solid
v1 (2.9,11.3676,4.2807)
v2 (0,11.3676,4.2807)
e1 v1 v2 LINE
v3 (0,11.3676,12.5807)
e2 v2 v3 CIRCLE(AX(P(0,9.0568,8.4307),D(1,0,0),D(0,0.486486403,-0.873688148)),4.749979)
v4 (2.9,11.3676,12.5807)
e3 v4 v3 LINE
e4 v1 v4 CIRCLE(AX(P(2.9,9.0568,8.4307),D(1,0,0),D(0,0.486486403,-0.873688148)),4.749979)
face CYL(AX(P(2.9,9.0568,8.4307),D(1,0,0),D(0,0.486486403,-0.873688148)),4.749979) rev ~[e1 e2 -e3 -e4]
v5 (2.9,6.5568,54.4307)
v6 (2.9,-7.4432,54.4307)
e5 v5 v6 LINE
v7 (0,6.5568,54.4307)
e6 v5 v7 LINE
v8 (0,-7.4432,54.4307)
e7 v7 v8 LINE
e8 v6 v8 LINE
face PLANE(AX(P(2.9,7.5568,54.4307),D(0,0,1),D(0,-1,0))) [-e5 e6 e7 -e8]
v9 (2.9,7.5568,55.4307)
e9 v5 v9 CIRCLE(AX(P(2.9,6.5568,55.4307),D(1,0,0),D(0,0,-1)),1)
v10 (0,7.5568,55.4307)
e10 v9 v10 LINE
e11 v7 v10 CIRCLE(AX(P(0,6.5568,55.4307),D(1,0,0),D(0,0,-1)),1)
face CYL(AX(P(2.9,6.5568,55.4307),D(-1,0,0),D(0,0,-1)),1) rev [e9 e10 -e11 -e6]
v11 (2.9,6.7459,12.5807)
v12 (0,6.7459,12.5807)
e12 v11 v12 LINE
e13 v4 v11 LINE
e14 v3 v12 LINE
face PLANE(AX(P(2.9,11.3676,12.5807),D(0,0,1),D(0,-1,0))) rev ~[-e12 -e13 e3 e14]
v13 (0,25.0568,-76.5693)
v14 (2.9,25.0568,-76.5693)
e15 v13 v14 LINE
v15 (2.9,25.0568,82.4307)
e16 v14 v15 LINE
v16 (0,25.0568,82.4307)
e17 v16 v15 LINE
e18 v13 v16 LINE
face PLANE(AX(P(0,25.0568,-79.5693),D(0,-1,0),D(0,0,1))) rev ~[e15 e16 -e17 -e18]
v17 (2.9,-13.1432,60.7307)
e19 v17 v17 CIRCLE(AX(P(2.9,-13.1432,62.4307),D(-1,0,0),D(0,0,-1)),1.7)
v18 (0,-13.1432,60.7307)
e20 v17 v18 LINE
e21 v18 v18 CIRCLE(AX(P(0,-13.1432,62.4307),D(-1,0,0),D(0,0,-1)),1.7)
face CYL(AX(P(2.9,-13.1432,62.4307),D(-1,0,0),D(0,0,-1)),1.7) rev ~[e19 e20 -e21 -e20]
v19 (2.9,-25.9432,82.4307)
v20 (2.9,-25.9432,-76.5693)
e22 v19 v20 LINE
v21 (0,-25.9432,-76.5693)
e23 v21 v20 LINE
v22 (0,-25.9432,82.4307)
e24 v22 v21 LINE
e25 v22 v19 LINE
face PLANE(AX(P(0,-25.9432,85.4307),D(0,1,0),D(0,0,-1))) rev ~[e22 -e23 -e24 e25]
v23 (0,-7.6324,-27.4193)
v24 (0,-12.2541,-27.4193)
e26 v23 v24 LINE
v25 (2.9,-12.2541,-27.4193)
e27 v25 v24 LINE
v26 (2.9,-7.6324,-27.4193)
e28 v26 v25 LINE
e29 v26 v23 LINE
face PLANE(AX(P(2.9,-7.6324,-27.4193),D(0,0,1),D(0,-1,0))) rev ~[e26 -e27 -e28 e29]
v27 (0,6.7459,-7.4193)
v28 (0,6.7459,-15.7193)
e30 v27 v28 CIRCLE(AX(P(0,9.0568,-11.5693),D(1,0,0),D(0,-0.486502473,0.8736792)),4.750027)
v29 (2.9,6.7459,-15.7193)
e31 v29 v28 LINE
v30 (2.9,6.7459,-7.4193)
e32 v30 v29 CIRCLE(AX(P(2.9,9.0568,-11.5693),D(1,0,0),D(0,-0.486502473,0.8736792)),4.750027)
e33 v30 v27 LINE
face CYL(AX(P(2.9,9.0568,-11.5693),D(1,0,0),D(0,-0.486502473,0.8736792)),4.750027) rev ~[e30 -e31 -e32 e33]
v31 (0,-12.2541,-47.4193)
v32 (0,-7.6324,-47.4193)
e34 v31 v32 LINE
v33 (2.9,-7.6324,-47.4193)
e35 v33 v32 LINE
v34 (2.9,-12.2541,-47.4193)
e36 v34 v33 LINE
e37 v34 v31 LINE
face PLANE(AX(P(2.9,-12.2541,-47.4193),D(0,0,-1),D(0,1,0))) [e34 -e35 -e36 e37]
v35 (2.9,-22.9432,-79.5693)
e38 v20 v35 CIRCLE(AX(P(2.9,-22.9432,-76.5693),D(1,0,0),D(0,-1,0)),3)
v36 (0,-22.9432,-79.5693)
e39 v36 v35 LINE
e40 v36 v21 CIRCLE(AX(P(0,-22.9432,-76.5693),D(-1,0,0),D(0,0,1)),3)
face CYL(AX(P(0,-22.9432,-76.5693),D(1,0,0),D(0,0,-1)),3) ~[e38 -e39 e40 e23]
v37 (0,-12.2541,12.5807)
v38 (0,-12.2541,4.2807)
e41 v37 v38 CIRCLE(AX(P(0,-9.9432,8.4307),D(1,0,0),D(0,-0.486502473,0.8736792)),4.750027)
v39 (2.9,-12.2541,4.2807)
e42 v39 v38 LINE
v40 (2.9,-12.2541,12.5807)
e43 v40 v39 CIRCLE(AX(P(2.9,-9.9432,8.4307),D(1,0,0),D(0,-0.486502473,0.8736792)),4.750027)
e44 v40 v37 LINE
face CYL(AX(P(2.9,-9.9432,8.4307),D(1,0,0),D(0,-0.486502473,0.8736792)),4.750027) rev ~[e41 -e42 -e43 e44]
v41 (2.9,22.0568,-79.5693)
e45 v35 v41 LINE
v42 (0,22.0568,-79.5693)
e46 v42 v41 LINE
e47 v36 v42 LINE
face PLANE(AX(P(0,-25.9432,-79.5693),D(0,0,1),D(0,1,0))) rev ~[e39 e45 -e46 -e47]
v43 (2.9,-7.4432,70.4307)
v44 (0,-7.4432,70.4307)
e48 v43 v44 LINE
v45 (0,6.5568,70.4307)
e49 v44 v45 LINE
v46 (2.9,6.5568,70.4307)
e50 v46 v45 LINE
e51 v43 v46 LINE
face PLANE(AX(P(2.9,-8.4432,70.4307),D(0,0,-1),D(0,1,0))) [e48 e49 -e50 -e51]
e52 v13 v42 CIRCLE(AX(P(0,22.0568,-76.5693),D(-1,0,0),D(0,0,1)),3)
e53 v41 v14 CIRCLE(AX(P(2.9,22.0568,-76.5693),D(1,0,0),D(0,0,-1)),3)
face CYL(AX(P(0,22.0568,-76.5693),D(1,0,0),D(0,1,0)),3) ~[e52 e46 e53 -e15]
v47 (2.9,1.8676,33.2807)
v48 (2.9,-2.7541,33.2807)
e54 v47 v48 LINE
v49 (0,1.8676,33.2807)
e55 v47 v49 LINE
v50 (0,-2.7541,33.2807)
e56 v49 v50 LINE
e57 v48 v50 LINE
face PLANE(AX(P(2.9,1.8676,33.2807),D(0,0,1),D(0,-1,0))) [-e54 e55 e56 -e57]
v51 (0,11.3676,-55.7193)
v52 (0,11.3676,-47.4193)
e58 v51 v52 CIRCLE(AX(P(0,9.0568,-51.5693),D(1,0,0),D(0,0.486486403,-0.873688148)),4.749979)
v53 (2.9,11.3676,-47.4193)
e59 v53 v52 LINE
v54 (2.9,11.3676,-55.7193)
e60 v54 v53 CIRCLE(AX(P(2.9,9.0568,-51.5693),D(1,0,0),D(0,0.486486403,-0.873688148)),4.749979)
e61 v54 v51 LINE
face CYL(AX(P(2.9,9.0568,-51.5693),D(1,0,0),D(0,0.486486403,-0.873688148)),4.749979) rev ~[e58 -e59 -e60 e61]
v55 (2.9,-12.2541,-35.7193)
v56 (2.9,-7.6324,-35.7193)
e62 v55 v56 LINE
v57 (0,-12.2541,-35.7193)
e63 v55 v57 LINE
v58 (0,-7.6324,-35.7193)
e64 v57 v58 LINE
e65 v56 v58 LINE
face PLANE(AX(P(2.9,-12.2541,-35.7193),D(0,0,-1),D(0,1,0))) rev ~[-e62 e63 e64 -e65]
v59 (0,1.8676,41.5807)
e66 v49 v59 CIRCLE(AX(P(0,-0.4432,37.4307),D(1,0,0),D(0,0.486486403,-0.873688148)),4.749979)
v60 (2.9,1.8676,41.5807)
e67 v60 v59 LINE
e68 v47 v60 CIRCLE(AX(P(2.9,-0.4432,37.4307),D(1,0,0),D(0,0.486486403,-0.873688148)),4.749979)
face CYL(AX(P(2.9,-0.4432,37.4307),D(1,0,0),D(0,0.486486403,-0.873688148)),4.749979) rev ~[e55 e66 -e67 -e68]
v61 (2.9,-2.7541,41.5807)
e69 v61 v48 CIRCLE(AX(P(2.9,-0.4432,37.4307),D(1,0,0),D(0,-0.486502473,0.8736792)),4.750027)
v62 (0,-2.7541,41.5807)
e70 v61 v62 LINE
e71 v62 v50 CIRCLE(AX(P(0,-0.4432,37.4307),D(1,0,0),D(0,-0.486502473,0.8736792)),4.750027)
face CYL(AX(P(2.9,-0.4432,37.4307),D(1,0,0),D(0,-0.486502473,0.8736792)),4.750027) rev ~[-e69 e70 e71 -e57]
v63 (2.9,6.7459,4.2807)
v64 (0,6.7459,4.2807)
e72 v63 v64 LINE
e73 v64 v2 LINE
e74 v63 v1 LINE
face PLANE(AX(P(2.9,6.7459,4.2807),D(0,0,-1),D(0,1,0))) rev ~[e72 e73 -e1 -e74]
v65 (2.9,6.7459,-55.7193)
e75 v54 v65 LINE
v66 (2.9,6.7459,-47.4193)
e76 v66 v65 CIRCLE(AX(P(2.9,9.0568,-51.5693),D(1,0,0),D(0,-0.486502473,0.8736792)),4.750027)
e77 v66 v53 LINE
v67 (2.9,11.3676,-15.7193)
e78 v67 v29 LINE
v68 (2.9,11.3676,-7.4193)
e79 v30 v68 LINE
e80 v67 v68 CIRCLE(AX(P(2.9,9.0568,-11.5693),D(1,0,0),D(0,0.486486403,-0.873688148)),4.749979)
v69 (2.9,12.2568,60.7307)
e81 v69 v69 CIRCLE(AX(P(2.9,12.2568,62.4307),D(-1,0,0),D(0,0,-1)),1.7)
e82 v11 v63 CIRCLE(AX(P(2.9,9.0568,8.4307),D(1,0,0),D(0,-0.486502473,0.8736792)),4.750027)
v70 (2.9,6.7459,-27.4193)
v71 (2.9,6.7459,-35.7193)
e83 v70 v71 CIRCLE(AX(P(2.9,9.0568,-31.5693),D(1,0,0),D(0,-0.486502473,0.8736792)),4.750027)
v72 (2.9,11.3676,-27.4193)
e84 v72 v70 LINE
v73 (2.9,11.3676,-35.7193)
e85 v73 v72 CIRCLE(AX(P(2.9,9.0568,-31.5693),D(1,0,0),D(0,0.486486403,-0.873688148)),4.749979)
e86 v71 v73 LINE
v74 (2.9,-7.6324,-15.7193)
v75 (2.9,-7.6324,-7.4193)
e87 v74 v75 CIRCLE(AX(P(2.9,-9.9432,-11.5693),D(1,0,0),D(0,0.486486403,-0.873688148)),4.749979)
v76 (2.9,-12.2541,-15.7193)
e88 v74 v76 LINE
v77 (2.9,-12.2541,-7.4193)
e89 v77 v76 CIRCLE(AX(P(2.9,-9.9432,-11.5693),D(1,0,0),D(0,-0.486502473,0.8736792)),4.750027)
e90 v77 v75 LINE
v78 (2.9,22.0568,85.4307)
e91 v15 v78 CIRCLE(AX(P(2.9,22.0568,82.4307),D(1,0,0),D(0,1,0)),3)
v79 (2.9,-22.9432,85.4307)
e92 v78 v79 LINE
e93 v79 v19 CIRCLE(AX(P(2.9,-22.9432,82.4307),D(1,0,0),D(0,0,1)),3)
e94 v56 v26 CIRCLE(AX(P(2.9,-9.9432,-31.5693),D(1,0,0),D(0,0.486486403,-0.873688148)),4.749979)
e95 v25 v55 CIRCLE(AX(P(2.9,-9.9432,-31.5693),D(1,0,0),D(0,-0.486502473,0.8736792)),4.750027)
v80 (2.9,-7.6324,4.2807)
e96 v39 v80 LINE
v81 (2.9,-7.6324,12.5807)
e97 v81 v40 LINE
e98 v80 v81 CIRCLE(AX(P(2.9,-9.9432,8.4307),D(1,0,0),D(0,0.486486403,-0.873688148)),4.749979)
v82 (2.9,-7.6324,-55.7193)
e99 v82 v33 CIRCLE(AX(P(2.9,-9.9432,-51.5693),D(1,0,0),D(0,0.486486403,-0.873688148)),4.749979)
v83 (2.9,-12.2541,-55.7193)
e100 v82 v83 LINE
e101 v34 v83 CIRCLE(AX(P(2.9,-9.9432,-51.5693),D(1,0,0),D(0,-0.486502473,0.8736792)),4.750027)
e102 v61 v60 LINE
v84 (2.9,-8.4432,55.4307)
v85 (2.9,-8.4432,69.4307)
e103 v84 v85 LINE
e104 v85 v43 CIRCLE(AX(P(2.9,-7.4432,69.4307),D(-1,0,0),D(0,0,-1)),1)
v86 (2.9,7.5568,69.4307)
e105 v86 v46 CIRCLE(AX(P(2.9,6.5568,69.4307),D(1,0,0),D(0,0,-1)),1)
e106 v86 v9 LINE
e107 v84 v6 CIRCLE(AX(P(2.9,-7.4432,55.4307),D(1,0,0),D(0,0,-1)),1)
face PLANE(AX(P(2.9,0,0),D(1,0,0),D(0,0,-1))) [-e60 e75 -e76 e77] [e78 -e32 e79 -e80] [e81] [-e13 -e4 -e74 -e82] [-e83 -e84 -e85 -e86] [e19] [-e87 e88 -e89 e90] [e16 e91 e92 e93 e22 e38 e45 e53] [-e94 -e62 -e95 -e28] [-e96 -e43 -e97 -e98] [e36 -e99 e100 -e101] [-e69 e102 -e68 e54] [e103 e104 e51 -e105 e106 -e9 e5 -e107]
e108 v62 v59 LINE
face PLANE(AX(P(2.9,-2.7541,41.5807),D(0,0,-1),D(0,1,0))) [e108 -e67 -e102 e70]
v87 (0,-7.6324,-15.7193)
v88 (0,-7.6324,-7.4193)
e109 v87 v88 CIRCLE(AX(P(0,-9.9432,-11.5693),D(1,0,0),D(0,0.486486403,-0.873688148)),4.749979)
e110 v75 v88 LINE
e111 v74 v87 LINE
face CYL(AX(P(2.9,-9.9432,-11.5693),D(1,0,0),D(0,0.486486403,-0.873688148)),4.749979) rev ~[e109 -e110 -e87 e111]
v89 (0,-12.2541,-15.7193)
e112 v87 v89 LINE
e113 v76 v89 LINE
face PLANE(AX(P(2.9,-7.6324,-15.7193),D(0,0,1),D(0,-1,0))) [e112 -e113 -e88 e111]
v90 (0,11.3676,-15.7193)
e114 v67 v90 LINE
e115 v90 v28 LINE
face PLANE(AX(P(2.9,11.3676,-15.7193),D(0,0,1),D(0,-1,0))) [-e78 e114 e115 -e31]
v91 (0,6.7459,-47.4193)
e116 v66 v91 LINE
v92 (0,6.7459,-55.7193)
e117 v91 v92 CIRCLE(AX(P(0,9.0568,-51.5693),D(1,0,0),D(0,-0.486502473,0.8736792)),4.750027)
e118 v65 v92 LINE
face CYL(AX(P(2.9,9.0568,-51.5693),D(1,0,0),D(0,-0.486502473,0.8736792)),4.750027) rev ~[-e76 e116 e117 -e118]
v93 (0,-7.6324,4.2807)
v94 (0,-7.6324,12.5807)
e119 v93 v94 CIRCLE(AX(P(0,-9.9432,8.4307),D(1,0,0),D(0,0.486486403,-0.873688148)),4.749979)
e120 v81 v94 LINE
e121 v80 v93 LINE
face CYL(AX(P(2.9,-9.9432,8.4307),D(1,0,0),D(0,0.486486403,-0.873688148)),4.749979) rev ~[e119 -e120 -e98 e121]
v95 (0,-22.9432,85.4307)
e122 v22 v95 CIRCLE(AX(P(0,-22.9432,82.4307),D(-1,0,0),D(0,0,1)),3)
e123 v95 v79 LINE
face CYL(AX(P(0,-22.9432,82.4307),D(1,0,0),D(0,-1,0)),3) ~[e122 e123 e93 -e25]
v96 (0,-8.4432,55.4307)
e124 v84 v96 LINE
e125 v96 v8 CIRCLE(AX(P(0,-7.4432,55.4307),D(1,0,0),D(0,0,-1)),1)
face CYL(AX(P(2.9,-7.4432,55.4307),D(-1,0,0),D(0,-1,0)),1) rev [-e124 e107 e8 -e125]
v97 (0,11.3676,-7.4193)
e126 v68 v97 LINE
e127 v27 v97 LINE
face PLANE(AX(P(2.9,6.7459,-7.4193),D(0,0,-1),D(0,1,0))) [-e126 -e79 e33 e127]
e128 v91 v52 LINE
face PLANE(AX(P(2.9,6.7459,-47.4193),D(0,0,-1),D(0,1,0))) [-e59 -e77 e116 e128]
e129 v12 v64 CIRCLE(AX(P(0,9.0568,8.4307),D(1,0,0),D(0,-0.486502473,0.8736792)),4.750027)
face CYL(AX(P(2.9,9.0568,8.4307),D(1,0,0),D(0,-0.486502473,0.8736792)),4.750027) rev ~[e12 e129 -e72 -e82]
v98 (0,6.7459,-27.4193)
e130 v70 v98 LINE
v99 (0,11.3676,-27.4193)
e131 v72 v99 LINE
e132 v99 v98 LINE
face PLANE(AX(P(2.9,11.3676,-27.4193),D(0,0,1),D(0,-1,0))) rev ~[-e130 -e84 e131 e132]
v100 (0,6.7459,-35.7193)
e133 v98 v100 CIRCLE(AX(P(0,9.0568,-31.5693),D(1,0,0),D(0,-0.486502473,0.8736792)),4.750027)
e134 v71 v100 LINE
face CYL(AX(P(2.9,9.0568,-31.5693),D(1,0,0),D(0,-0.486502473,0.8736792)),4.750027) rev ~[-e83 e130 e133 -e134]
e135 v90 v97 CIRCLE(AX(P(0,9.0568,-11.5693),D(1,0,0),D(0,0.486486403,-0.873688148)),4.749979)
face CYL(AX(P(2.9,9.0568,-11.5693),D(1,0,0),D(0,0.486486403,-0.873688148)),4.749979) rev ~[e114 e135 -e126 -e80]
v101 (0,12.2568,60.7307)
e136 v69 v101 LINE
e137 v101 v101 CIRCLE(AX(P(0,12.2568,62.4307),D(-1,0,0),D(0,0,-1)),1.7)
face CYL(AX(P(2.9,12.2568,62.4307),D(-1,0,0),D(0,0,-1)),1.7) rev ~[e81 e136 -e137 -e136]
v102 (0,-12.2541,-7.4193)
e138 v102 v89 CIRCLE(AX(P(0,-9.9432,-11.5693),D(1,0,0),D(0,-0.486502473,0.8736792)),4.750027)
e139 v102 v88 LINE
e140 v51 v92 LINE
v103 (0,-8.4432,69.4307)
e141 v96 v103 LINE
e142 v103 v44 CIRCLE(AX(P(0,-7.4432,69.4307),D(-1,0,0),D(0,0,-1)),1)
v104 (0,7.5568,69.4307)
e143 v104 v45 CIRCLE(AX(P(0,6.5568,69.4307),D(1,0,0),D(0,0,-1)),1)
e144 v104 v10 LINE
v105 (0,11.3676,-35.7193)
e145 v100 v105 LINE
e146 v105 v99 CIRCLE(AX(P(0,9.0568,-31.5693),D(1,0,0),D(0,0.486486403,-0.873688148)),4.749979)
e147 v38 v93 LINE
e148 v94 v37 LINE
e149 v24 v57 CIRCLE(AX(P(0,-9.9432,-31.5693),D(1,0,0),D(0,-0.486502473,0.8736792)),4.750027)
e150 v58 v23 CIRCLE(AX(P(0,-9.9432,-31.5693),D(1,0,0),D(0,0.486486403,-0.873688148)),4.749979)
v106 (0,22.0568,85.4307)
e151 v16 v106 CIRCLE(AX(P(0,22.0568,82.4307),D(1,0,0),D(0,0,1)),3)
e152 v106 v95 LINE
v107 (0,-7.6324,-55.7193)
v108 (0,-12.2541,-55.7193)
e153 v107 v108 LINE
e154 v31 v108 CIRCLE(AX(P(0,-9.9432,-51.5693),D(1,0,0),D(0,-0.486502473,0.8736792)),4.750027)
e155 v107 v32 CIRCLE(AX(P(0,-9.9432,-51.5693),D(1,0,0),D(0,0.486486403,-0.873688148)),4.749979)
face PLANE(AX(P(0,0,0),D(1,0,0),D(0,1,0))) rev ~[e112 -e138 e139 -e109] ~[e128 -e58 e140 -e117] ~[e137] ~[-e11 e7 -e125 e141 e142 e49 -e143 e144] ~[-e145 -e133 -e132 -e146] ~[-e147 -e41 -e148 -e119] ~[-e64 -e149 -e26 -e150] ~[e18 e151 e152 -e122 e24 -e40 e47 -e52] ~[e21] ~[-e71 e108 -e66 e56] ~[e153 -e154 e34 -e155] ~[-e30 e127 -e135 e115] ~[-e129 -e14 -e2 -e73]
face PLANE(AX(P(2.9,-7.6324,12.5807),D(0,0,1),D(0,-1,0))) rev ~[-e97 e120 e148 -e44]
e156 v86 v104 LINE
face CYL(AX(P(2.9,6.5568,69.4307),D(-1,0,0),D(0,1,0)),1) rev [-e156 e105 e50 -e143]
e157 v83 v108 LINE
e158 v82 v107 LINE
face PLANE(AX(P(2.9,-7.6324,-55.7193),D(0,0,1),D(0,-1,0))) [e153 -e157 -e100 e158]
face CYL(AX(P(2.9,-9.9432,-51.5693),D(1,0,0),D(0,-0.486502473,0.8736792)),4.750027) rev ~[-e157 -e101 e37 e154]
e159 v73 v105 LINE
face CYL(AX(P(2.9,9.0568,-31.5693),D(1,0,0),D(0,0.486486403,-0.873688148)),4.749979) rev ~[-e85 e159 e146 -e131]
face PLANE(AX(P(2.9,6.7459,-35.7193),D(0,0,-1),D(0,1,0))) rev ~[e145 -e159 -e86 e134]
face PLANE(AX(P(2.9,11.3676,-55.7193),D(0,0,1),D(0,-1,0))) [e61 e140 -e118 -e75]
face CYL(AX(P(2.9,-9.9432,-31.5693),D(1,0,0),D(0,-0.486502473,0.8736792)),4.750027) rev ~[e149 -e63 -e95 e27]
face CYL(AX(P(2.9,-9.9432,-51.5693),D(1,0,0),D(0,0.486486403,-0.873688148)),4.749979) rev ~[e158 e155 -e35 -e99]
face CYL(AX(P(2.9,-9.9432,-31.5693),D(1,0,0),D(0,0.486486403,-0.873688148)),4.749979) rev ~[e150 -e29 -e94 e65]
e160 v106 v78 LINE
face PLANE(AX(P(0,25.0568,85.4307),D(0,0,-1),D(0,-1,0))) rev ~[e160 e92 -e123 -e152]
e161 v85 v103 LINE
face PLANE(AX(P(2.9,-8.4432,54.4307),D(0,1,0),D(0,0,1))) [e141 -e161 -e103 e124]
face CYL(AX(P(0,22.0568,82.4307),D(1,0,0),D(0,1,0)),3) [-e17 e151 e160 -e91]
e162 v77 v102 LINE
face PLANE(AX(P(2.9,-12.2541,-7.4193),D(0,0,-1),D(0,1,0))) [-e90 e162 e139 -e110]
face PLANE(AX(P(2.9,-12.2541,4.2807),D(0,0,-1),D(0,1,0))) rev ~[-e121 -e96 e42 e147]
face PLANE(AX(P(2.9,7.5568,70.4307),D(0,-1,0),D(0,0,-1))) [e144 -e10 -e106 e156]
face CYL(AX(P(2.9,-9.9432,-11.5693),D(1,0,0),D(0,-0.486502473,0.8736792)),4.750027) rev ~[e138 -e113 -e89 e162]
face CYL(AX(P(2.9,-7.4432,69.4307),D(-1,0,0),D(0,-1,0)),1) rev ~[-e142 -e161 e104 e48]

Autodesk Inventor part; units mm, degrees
ref_plane "YZ Plane" through (0, 0, 0) normal (1, 0, 0) x (0, 1, 0)
ref_plane "XZ Plane" through (0, 0, 0) normal (0, 1, 0) x (-1, 0, 0)
ref_plane "XY Plane" through (0, 0, 0) normal (0, 0, 1) x (1, 0, 0)
sketch "Sketch1" plane through (0, 0, 0) normal (1, 0, 0) x (0, 1, 0)
  line L0 (25.0568, 85.4307) -> (-25.9432, 85.4307)
  line L1 (-25.9432, 85.4307) -> (-25.9432, -79.5693)
  line L2 (-25.9432, -79.5693) -> (25.0568, -79.5693)
  line L3 (25.0568, -79.5693) -> (25.0568, 85.4307)
  point P0 (0, 0)
  dimension "d0" = 165
  dimension "d1" = 51
extrude "Extrusion1" add sketch "Sketch1" along normal blind 3
fillet "Fillet1" radius 3 4 edges at (1.5, 25.0568, 85.4307) (1.5, -25.9432, 85.4307) (1.5, 25.0568, -79.5693) (1.5, -25.9432, -79.5693)
sketch "Sketch2" plane through (3, 0, 0) normal (1, 0, 0) x (0, 0, -1)
  line L0 (-77.4307, 22.0568) -> (71.5693, 22.0568)
  line L1 (71.5693, 22.0568) -> (71.5693, -22.9432)
  line L2 (71.5693, -22.9432) -> (-77.4307, -22.9432)
  line L3 (-77.4307, -22.9432) -> (-77.4307, 22.0568)
  line L4 (-85.4307, 22.0568) -> (-85.4307, -22.9432) projected
  line L5 (79.5693, -22.9432) -> (79.5693, 22.0568) projected
  line L6 (-82.4307, -25.9432) -> (76.5693, -25.9432) projected
  line L7 (76.5693, 25.0568) -> (-82.4307, 25.0568) projected
  point P0 (0, 0)
  dimension "d5" = 149
  dimension "d6" = 45
  dimension "d9" = 165
  dimension "d10" = 8
  dimension "d11" = 51
  dimension "d12" = 3
extrude "Extrusion2" cut sketch "Sketch2" against normal blind 0.1
sketch "Sketch4" plane through (2.9, 0, 0) normal (1, 0, 0) x (0, 0, -1)
  line L0 (-77.4307, 22.0568) -> (71.5693, 22.0568)
  line L1 (71.5693, 22.0568) -> (71.5693, -22.9432)
  line L2 (71.5693, -22.9432) -> (-77.4307, -22.9432)
  line L3 (-77.4307, -22.9432) -> (-77.4307, 22.0568)
  line L4 (-41.5807, 1.8676) -> (-33.2807, 1.8676)
  line L5 (-33.2807, 1.8676) -> (-33.2807, -2.7541)
  line L6 (-33.2807, -2.7541) -> (-41.5807, -2.7541)
  line L7 (-41.5807, -2.7541) -> (-41.5807, 1.8676)
  line L8 (-41.5807, 1.8676) -> (-33.2807, -2.7541) construction
  line L9 (-33.2807, 1.8676) -> (-41.5807, -2.7541) construction
  arc A0 (-33.2807, 1.8676) -> (-41.5807, 1.8676) centre (-37.4307, -0.4432) ccw
  line L10 (-12.5807, 6.7459) -> (-4.2807, 6.7459)
  line L11 (-4.2807, 6.7459) -> (-4.2807, 11.3676)
  line L12 (-4.2807, 11.3676) -> (-12.5807, 11.3676)
  line L13 (-12.5807, 11.3676) -> (-12.5807, 6.7459)
  line L14 (-12.5807, 6.7459) -> (-4.2807, 11.3676) construction
  line L15 (-4.2807, 6.7459) -> (-12.5807, 11.3676) construction
  arc A1 (-4.2807, 11.3676) -> (-12.5807, 11.3676) centre (-8.4307, 9.0568) ccw
  arc A2 (-12.5807, 6.7459) -> (-4.2807, 6.7459) centre (-8.4307, 9.0568) ccw
  line L16 (7.4193, 11.3676) -> (15.7193, 11.3676)
  line L17 (15.7193, 11.3676) -> (15.7193, 6.7459)
  line L18 (15.7193, 6.7459) -> (7.4193, 6.7459)
  line L19 (7.4193, 6.7459) -> (7.4193, 11.3676)
  line L20 (7.4193, 11.3676) -> (15.7193, 6.7459) construction
  line L21 (15.7193, 11.3676) -> (7.4193, 6.7459) construction
  arc A3 (15.7193, 11.3676) -> (7.4193, 11.3676) centre (11.5693, 9.0568) ccw
  arc A4 (7.4193, 6.7459) -> (15.7193, 6.7459) centre (11.5693, 9.0568) ccw
  line L22 (27.4193, 6.7459) -> (35.7193, 6.7459)
  line L23 (35.7193, 6.7459) -> (35.7193, 11.3676)
  line L24 (35.7193, 11.3676) -> (27.4193, 11.3676)
  line L25 (27.4193, 11.3676) -> (27.4193, 6.7459)
  line L26 (27.4193, 6.7459) -> (35.7193, 11.3676) construction
  line L27 (35.7193, 6.7459) -> (27.4193, 11.3676) construction
  line L28 (55.7193, -12.2541) -> (47.4193, -12.2541)
  line L29 (47.4193, -12.2541) -> (47.4193, -7.6324)
  line L30 (47.4193, -7.6324) -> (55.7193, -7.6324)
  line L31 (55.7193, -7.6324) -> (55.7193, -12.2541)
  line L32 (55.7193, -12.2541) -> (47.4193, -7.6324) construction
  line L33 (47.4193, -12.2541) -> (55.7193, -7.6324) construction
  line L34 (27.4193, -12.2541) -> (35.7193, -12.2541)
  line L35 (35.7193, -12.2541) -> (35.7193, -7.6324)
  line L36 (35.7193, -7.6324) -> (27.4193, -7.6324)
  line L37 (27.4193, -7.6324) -> (27.4193, -12.2541)
  line L38 (27.4193, -12.2541) -> (35.7193, -7.6324) construction
  line L39 (35.7193, -12.2541) -> (27.4193, -7.6324) construction
  line L40 (15.7193, -12.2541) -> (7.4193, -12.2541)
  line L41 (7.4193, -12.2541) -> (7.4193, -7.6324)
  line L42 (7.4193, -7.6324) -> (15.7193, -7.6324)
  line L43 (15.7193, -7.6324) -> (15.7193, -12.2541)
  line L44 (15.7193, -12.2541) -> (7.4193, -7.6324) construction
  line L45 (7.4193, -12.2541) -> (15.7193, -7.6324) construction
  line L46 (-12.5807, -12.2541) -> (-4.2807, -12.2541)
  line L47 (-4.2807, -12.2541) -> (-4.2807, -7.6324)
  line L48 (-4.2807, -7.6324) -> (-12.5807, -7.6324)
  line L49 (-12.5807, -7.6324) -> (-12.5807, -12.2541)
  line L50 (-12.5807, -12.2541) -> (-4.2807, -7.6324) construction
  line L51 (-4.2807, -12.2541) -> (-12.5807, -7.6324) construction
  arc A5 (-4.2807, -7.6324) -> (-12.5807, -7.6324) centre (-8.4307, -9.9432) ccw
  arc A6 (-12.5807, -12.2541) -> (-4.2807, -12.2541) centre (-8.4307, -9.9432) ccw
  arc A7 (15.7193, -7.6324) -> (7.4193, -7.6324) centre (11.5693, -9.9432) ccw
  arc A8 (7.4193, -12.2541) -> (15.7193, -12.2541) centre (11.5693, -9.9432) ccw
  arc A9 (35.7193, -7.6324) -> (27.4193, -7.6324) centre (31.5693, -9.9432) ccw
  arc A10 (27.4193, -12.2541) -> (35.7193, -12.2541) centre (31.5693, -9.9432) ccw
  arc A11 (55.7193, -7.6324) -> (47.4193, -7.6324) centre (51.5693, -9.9432) ccw
  arc A12 (47.4193, -12.2541) -> (55.7193, -12.2541) centre (51.5693, -9.9432) ccw
  arc A13 (35.7193, 11.3676) -> (27.4193, 11.3676) centre (31.5693, 9.0568) ccw
  arc A14 (27.4193, 6.7459) -> (35.7193, 6.7459) centre (31.5693, 9.0568) ccw
  line L52 (55.7193, 6.7459) -> (47.4193, 6.7459)
  line L53 (47.4193, 6.7459) -> (47.4193, 11.3676)
  line L54 (47.4193, 11.3676) -> (55.7193, 11.3676)
  line L55 (55.7193, 11.3676) -> (55.7193, 6.7459)
  line L56 (55.7193, 6.7459) -> (47.4193, 11.3676) construction
  line L57 (47.4193, 6.7459) -> (55.7193, 11.3676) construction
  arc A15 (55.7193, 11.3676) -> (47.4193, 11.3676) centre (51.5693, 9.0568) ccw
  arc A16 (47.4193, 6.7459) -> (55.7193, 6.7459) centre (51.5693, 9.0568) ccw
  arc A17 (-41.5807, -2.7541) -> (-33.2807, -2.7541) centre (-37.4307, -0.4432) ccw
  line L58 (-70.4307, -8.4432) -> (-70.4307, 7.5568)
  line L59 (-70.4307, 7.5568) -> (-54.4307, 7.5568)
  line L60 (-54.4307, 7.5568) -> (-54.4307, -8.4432)
  line L61 (-54.4307, -8.4432) -> (-70.4307, -8.4432)
  line L62 (-70.4307, -8.4432) -> (-54.4307, 7.5568) construction
  line L63 (-70.4307, 7.5568) -> (-54.4307, -8.4432) construction
  point P0 (0, 0)
  point P1 (-62.4307, -0.4432)
  point P2 (-62.4307, -13.1432)
  point P3 (-62.4307, 12.2568)
  dimension "d16" = 20
  dimension "d17" = 20
  dimension "d18" = 20
  dimension "d20" = 19
  dimension "d25" = 20
  dimension "d26" = 20
  dimension "d27" = 20
  dimension "d28" = 19
  dimension "d29" = 19
  dimension "d43" = 13
  dimension "d44" = 45
  dimension "d45" = 13
  dimension "d46" = 13
  dimension "d47" = 13
  dimension "d70" = 22.5
  dimension "d71" = 8.3
  dimension "d72" = 4.75
  dimension "d73" = 40
  dimension "d74" = 20.1892
  dimension "d75" = 8.3
  dimension "d76" = 4.75
  dimension "d77" = 8.3
  dimension "d78" = 4.75
  dimension "d79" = 8.3
  dimension "d81" = 8.3
  dimension "d82" = 8.3
  dimension "d83" = 8.3
  dimension "d84" = 8.3
  dimension "d85" = 4.75
  dimension "d86" = 4.75
  dimension "d88" = 4.75
  dimension "d90" = 4.75
  dimension "d98" = 20
  dimension "d100" = 20
  dimension "d101" = 8.3
  dimension "d104" = 16
  dimension "d105" = 16
  dimension "d106" = 15
  dimension "d107" = 22.5
  dimension "d108" = 8
  dimension "d109" = 8
  dimension "d110" = 12.7
  dimension "d111" = 12.7
extrude "Extrusion3" cut sketch "Sketch4" against normal blind 20 contours A0 L4 | L4 L5 L6 L7 | L6 A17 | L13 L12 L11 L10 | L10 A2 | A1 L12 | A3 L16 | L16 L17 L18 L19 | L18 A4 | L25 L24 L23 L22 | L22 A14 | A13 L24 | A12 L28 | L28 L29 L30 L31 | L30 A11 | L37 L36 L35 L34 | L34 A10 | A9 L36 | A8 L40 | L40 L41 L42 L43 | L42 A7 | L49 L48 L47 L46 | L46 A6 | A5 L48 | A16 L52 | L52 L53 L54 L55 | L54 A15 | L58 L59 L60 L61
fillet "Fillet2" radius 1 4 edges at (1.45, 7.5568, 54.4307) (1.45, -8.4432, 54.4307) (1.45, -8.4432, 70.4307) (1.45, 7.5568, 70.4307)
hole "Hole4" at (2.9, -0.4432, 37.4307) at (2.9, 9.0568, -11.5693) at (2.9, 9.0568, 8.4307) at (2.9, 9.0568, -31.5693) at (2.9, 9.0568, -51.5693) at (2.9, -9.9432, 8.4307) at (2.9, -9.9432, -11.5693) at (2.9, -9.9432, -31.5693) at (2.9, -9.9432, -51.5693) at (2.9, -13.1432, 62.4307) at (2.9, 12.2568, 62.4307) direction (-1, 0, 0) diameter 3.4 end through all clearance for "Flat Head Machine Screw" size "M3" standard "Ansi Metric M Profile"
sketch "Sketch9" plane through (3, 0, 0) normal (1, 0, 0) x (0, 0, -1)
  line L0 (-77.4307, -22.9432) -> (-77.4307, 22.0568) projected
  line L1 (-77.4307, 22.0568) -> (71.5693, 22.0568) projected
  line L2 (71.5693, 22.0568) -> (71.5693, -22.9432) projected
  line L3 (71.5693, -22.9432) -> (-77.4307, -22.9432) projected
  arc A0 (76.5693, -25.9432) -> (79.5693, -22.9432) centre (76.5693, -22.9432) ccw projected
  line L4 (79.5693, -22.9432) -> (79.5693, 22.0568) projected
  arc A1 (79.5693, 22.0568) -> (76.5693, 25.0568) centre (76.5693, 22.0568) ccw projected
  line L5 (76.5693, 25.0568) -> (-82.4307, 25.0568) projected
  arc A2 (-82.4307, 25.0568) -> (-85.4307, 22.0568) centre (-82.4307, 22.0568) ccw projected
  line L6 (-85.4307, 22.0568) -> (-85.4307, -22.9432) projected
  arc A3 (-85.4307, -22.9432) -> (-82.4307, -25.9432) centre (-82.4307, -22.9432) ccw projected
  line L7 (-82.4307, -25.9432) -> (76.5693, -25.9432) projected
  point P0 (0, 0)
extrude "Extrusion4" cut sketch "Sketch9" against normal blind 0.1
equation "\"d10\" = -0.5 * d5 + 0.5 * d9"
equation "\"d12\" = -0.5 * d6 + 0.5 * d11"
equation "\"d25\" = d16"
equation "\"d26\" = d17"
equation "\"d27\" = d18"
equation "\"d28\" = d20"
equation "\"d29\" = d28"
equation "\"d43\" = -0.5 * d20 + 0.5 * d44"
equation "\"d45\" = d43"
equation "\"d46\" = d45"
equation "\"d47\" = d46"
equation "\"d78\" = d76"
equation "\"d85\" = d76"
equation "\"d86\" = d85"
equation "\"d88\" = d86"
equation "\"d90\" = d78"
properties part number "Front-panel"
